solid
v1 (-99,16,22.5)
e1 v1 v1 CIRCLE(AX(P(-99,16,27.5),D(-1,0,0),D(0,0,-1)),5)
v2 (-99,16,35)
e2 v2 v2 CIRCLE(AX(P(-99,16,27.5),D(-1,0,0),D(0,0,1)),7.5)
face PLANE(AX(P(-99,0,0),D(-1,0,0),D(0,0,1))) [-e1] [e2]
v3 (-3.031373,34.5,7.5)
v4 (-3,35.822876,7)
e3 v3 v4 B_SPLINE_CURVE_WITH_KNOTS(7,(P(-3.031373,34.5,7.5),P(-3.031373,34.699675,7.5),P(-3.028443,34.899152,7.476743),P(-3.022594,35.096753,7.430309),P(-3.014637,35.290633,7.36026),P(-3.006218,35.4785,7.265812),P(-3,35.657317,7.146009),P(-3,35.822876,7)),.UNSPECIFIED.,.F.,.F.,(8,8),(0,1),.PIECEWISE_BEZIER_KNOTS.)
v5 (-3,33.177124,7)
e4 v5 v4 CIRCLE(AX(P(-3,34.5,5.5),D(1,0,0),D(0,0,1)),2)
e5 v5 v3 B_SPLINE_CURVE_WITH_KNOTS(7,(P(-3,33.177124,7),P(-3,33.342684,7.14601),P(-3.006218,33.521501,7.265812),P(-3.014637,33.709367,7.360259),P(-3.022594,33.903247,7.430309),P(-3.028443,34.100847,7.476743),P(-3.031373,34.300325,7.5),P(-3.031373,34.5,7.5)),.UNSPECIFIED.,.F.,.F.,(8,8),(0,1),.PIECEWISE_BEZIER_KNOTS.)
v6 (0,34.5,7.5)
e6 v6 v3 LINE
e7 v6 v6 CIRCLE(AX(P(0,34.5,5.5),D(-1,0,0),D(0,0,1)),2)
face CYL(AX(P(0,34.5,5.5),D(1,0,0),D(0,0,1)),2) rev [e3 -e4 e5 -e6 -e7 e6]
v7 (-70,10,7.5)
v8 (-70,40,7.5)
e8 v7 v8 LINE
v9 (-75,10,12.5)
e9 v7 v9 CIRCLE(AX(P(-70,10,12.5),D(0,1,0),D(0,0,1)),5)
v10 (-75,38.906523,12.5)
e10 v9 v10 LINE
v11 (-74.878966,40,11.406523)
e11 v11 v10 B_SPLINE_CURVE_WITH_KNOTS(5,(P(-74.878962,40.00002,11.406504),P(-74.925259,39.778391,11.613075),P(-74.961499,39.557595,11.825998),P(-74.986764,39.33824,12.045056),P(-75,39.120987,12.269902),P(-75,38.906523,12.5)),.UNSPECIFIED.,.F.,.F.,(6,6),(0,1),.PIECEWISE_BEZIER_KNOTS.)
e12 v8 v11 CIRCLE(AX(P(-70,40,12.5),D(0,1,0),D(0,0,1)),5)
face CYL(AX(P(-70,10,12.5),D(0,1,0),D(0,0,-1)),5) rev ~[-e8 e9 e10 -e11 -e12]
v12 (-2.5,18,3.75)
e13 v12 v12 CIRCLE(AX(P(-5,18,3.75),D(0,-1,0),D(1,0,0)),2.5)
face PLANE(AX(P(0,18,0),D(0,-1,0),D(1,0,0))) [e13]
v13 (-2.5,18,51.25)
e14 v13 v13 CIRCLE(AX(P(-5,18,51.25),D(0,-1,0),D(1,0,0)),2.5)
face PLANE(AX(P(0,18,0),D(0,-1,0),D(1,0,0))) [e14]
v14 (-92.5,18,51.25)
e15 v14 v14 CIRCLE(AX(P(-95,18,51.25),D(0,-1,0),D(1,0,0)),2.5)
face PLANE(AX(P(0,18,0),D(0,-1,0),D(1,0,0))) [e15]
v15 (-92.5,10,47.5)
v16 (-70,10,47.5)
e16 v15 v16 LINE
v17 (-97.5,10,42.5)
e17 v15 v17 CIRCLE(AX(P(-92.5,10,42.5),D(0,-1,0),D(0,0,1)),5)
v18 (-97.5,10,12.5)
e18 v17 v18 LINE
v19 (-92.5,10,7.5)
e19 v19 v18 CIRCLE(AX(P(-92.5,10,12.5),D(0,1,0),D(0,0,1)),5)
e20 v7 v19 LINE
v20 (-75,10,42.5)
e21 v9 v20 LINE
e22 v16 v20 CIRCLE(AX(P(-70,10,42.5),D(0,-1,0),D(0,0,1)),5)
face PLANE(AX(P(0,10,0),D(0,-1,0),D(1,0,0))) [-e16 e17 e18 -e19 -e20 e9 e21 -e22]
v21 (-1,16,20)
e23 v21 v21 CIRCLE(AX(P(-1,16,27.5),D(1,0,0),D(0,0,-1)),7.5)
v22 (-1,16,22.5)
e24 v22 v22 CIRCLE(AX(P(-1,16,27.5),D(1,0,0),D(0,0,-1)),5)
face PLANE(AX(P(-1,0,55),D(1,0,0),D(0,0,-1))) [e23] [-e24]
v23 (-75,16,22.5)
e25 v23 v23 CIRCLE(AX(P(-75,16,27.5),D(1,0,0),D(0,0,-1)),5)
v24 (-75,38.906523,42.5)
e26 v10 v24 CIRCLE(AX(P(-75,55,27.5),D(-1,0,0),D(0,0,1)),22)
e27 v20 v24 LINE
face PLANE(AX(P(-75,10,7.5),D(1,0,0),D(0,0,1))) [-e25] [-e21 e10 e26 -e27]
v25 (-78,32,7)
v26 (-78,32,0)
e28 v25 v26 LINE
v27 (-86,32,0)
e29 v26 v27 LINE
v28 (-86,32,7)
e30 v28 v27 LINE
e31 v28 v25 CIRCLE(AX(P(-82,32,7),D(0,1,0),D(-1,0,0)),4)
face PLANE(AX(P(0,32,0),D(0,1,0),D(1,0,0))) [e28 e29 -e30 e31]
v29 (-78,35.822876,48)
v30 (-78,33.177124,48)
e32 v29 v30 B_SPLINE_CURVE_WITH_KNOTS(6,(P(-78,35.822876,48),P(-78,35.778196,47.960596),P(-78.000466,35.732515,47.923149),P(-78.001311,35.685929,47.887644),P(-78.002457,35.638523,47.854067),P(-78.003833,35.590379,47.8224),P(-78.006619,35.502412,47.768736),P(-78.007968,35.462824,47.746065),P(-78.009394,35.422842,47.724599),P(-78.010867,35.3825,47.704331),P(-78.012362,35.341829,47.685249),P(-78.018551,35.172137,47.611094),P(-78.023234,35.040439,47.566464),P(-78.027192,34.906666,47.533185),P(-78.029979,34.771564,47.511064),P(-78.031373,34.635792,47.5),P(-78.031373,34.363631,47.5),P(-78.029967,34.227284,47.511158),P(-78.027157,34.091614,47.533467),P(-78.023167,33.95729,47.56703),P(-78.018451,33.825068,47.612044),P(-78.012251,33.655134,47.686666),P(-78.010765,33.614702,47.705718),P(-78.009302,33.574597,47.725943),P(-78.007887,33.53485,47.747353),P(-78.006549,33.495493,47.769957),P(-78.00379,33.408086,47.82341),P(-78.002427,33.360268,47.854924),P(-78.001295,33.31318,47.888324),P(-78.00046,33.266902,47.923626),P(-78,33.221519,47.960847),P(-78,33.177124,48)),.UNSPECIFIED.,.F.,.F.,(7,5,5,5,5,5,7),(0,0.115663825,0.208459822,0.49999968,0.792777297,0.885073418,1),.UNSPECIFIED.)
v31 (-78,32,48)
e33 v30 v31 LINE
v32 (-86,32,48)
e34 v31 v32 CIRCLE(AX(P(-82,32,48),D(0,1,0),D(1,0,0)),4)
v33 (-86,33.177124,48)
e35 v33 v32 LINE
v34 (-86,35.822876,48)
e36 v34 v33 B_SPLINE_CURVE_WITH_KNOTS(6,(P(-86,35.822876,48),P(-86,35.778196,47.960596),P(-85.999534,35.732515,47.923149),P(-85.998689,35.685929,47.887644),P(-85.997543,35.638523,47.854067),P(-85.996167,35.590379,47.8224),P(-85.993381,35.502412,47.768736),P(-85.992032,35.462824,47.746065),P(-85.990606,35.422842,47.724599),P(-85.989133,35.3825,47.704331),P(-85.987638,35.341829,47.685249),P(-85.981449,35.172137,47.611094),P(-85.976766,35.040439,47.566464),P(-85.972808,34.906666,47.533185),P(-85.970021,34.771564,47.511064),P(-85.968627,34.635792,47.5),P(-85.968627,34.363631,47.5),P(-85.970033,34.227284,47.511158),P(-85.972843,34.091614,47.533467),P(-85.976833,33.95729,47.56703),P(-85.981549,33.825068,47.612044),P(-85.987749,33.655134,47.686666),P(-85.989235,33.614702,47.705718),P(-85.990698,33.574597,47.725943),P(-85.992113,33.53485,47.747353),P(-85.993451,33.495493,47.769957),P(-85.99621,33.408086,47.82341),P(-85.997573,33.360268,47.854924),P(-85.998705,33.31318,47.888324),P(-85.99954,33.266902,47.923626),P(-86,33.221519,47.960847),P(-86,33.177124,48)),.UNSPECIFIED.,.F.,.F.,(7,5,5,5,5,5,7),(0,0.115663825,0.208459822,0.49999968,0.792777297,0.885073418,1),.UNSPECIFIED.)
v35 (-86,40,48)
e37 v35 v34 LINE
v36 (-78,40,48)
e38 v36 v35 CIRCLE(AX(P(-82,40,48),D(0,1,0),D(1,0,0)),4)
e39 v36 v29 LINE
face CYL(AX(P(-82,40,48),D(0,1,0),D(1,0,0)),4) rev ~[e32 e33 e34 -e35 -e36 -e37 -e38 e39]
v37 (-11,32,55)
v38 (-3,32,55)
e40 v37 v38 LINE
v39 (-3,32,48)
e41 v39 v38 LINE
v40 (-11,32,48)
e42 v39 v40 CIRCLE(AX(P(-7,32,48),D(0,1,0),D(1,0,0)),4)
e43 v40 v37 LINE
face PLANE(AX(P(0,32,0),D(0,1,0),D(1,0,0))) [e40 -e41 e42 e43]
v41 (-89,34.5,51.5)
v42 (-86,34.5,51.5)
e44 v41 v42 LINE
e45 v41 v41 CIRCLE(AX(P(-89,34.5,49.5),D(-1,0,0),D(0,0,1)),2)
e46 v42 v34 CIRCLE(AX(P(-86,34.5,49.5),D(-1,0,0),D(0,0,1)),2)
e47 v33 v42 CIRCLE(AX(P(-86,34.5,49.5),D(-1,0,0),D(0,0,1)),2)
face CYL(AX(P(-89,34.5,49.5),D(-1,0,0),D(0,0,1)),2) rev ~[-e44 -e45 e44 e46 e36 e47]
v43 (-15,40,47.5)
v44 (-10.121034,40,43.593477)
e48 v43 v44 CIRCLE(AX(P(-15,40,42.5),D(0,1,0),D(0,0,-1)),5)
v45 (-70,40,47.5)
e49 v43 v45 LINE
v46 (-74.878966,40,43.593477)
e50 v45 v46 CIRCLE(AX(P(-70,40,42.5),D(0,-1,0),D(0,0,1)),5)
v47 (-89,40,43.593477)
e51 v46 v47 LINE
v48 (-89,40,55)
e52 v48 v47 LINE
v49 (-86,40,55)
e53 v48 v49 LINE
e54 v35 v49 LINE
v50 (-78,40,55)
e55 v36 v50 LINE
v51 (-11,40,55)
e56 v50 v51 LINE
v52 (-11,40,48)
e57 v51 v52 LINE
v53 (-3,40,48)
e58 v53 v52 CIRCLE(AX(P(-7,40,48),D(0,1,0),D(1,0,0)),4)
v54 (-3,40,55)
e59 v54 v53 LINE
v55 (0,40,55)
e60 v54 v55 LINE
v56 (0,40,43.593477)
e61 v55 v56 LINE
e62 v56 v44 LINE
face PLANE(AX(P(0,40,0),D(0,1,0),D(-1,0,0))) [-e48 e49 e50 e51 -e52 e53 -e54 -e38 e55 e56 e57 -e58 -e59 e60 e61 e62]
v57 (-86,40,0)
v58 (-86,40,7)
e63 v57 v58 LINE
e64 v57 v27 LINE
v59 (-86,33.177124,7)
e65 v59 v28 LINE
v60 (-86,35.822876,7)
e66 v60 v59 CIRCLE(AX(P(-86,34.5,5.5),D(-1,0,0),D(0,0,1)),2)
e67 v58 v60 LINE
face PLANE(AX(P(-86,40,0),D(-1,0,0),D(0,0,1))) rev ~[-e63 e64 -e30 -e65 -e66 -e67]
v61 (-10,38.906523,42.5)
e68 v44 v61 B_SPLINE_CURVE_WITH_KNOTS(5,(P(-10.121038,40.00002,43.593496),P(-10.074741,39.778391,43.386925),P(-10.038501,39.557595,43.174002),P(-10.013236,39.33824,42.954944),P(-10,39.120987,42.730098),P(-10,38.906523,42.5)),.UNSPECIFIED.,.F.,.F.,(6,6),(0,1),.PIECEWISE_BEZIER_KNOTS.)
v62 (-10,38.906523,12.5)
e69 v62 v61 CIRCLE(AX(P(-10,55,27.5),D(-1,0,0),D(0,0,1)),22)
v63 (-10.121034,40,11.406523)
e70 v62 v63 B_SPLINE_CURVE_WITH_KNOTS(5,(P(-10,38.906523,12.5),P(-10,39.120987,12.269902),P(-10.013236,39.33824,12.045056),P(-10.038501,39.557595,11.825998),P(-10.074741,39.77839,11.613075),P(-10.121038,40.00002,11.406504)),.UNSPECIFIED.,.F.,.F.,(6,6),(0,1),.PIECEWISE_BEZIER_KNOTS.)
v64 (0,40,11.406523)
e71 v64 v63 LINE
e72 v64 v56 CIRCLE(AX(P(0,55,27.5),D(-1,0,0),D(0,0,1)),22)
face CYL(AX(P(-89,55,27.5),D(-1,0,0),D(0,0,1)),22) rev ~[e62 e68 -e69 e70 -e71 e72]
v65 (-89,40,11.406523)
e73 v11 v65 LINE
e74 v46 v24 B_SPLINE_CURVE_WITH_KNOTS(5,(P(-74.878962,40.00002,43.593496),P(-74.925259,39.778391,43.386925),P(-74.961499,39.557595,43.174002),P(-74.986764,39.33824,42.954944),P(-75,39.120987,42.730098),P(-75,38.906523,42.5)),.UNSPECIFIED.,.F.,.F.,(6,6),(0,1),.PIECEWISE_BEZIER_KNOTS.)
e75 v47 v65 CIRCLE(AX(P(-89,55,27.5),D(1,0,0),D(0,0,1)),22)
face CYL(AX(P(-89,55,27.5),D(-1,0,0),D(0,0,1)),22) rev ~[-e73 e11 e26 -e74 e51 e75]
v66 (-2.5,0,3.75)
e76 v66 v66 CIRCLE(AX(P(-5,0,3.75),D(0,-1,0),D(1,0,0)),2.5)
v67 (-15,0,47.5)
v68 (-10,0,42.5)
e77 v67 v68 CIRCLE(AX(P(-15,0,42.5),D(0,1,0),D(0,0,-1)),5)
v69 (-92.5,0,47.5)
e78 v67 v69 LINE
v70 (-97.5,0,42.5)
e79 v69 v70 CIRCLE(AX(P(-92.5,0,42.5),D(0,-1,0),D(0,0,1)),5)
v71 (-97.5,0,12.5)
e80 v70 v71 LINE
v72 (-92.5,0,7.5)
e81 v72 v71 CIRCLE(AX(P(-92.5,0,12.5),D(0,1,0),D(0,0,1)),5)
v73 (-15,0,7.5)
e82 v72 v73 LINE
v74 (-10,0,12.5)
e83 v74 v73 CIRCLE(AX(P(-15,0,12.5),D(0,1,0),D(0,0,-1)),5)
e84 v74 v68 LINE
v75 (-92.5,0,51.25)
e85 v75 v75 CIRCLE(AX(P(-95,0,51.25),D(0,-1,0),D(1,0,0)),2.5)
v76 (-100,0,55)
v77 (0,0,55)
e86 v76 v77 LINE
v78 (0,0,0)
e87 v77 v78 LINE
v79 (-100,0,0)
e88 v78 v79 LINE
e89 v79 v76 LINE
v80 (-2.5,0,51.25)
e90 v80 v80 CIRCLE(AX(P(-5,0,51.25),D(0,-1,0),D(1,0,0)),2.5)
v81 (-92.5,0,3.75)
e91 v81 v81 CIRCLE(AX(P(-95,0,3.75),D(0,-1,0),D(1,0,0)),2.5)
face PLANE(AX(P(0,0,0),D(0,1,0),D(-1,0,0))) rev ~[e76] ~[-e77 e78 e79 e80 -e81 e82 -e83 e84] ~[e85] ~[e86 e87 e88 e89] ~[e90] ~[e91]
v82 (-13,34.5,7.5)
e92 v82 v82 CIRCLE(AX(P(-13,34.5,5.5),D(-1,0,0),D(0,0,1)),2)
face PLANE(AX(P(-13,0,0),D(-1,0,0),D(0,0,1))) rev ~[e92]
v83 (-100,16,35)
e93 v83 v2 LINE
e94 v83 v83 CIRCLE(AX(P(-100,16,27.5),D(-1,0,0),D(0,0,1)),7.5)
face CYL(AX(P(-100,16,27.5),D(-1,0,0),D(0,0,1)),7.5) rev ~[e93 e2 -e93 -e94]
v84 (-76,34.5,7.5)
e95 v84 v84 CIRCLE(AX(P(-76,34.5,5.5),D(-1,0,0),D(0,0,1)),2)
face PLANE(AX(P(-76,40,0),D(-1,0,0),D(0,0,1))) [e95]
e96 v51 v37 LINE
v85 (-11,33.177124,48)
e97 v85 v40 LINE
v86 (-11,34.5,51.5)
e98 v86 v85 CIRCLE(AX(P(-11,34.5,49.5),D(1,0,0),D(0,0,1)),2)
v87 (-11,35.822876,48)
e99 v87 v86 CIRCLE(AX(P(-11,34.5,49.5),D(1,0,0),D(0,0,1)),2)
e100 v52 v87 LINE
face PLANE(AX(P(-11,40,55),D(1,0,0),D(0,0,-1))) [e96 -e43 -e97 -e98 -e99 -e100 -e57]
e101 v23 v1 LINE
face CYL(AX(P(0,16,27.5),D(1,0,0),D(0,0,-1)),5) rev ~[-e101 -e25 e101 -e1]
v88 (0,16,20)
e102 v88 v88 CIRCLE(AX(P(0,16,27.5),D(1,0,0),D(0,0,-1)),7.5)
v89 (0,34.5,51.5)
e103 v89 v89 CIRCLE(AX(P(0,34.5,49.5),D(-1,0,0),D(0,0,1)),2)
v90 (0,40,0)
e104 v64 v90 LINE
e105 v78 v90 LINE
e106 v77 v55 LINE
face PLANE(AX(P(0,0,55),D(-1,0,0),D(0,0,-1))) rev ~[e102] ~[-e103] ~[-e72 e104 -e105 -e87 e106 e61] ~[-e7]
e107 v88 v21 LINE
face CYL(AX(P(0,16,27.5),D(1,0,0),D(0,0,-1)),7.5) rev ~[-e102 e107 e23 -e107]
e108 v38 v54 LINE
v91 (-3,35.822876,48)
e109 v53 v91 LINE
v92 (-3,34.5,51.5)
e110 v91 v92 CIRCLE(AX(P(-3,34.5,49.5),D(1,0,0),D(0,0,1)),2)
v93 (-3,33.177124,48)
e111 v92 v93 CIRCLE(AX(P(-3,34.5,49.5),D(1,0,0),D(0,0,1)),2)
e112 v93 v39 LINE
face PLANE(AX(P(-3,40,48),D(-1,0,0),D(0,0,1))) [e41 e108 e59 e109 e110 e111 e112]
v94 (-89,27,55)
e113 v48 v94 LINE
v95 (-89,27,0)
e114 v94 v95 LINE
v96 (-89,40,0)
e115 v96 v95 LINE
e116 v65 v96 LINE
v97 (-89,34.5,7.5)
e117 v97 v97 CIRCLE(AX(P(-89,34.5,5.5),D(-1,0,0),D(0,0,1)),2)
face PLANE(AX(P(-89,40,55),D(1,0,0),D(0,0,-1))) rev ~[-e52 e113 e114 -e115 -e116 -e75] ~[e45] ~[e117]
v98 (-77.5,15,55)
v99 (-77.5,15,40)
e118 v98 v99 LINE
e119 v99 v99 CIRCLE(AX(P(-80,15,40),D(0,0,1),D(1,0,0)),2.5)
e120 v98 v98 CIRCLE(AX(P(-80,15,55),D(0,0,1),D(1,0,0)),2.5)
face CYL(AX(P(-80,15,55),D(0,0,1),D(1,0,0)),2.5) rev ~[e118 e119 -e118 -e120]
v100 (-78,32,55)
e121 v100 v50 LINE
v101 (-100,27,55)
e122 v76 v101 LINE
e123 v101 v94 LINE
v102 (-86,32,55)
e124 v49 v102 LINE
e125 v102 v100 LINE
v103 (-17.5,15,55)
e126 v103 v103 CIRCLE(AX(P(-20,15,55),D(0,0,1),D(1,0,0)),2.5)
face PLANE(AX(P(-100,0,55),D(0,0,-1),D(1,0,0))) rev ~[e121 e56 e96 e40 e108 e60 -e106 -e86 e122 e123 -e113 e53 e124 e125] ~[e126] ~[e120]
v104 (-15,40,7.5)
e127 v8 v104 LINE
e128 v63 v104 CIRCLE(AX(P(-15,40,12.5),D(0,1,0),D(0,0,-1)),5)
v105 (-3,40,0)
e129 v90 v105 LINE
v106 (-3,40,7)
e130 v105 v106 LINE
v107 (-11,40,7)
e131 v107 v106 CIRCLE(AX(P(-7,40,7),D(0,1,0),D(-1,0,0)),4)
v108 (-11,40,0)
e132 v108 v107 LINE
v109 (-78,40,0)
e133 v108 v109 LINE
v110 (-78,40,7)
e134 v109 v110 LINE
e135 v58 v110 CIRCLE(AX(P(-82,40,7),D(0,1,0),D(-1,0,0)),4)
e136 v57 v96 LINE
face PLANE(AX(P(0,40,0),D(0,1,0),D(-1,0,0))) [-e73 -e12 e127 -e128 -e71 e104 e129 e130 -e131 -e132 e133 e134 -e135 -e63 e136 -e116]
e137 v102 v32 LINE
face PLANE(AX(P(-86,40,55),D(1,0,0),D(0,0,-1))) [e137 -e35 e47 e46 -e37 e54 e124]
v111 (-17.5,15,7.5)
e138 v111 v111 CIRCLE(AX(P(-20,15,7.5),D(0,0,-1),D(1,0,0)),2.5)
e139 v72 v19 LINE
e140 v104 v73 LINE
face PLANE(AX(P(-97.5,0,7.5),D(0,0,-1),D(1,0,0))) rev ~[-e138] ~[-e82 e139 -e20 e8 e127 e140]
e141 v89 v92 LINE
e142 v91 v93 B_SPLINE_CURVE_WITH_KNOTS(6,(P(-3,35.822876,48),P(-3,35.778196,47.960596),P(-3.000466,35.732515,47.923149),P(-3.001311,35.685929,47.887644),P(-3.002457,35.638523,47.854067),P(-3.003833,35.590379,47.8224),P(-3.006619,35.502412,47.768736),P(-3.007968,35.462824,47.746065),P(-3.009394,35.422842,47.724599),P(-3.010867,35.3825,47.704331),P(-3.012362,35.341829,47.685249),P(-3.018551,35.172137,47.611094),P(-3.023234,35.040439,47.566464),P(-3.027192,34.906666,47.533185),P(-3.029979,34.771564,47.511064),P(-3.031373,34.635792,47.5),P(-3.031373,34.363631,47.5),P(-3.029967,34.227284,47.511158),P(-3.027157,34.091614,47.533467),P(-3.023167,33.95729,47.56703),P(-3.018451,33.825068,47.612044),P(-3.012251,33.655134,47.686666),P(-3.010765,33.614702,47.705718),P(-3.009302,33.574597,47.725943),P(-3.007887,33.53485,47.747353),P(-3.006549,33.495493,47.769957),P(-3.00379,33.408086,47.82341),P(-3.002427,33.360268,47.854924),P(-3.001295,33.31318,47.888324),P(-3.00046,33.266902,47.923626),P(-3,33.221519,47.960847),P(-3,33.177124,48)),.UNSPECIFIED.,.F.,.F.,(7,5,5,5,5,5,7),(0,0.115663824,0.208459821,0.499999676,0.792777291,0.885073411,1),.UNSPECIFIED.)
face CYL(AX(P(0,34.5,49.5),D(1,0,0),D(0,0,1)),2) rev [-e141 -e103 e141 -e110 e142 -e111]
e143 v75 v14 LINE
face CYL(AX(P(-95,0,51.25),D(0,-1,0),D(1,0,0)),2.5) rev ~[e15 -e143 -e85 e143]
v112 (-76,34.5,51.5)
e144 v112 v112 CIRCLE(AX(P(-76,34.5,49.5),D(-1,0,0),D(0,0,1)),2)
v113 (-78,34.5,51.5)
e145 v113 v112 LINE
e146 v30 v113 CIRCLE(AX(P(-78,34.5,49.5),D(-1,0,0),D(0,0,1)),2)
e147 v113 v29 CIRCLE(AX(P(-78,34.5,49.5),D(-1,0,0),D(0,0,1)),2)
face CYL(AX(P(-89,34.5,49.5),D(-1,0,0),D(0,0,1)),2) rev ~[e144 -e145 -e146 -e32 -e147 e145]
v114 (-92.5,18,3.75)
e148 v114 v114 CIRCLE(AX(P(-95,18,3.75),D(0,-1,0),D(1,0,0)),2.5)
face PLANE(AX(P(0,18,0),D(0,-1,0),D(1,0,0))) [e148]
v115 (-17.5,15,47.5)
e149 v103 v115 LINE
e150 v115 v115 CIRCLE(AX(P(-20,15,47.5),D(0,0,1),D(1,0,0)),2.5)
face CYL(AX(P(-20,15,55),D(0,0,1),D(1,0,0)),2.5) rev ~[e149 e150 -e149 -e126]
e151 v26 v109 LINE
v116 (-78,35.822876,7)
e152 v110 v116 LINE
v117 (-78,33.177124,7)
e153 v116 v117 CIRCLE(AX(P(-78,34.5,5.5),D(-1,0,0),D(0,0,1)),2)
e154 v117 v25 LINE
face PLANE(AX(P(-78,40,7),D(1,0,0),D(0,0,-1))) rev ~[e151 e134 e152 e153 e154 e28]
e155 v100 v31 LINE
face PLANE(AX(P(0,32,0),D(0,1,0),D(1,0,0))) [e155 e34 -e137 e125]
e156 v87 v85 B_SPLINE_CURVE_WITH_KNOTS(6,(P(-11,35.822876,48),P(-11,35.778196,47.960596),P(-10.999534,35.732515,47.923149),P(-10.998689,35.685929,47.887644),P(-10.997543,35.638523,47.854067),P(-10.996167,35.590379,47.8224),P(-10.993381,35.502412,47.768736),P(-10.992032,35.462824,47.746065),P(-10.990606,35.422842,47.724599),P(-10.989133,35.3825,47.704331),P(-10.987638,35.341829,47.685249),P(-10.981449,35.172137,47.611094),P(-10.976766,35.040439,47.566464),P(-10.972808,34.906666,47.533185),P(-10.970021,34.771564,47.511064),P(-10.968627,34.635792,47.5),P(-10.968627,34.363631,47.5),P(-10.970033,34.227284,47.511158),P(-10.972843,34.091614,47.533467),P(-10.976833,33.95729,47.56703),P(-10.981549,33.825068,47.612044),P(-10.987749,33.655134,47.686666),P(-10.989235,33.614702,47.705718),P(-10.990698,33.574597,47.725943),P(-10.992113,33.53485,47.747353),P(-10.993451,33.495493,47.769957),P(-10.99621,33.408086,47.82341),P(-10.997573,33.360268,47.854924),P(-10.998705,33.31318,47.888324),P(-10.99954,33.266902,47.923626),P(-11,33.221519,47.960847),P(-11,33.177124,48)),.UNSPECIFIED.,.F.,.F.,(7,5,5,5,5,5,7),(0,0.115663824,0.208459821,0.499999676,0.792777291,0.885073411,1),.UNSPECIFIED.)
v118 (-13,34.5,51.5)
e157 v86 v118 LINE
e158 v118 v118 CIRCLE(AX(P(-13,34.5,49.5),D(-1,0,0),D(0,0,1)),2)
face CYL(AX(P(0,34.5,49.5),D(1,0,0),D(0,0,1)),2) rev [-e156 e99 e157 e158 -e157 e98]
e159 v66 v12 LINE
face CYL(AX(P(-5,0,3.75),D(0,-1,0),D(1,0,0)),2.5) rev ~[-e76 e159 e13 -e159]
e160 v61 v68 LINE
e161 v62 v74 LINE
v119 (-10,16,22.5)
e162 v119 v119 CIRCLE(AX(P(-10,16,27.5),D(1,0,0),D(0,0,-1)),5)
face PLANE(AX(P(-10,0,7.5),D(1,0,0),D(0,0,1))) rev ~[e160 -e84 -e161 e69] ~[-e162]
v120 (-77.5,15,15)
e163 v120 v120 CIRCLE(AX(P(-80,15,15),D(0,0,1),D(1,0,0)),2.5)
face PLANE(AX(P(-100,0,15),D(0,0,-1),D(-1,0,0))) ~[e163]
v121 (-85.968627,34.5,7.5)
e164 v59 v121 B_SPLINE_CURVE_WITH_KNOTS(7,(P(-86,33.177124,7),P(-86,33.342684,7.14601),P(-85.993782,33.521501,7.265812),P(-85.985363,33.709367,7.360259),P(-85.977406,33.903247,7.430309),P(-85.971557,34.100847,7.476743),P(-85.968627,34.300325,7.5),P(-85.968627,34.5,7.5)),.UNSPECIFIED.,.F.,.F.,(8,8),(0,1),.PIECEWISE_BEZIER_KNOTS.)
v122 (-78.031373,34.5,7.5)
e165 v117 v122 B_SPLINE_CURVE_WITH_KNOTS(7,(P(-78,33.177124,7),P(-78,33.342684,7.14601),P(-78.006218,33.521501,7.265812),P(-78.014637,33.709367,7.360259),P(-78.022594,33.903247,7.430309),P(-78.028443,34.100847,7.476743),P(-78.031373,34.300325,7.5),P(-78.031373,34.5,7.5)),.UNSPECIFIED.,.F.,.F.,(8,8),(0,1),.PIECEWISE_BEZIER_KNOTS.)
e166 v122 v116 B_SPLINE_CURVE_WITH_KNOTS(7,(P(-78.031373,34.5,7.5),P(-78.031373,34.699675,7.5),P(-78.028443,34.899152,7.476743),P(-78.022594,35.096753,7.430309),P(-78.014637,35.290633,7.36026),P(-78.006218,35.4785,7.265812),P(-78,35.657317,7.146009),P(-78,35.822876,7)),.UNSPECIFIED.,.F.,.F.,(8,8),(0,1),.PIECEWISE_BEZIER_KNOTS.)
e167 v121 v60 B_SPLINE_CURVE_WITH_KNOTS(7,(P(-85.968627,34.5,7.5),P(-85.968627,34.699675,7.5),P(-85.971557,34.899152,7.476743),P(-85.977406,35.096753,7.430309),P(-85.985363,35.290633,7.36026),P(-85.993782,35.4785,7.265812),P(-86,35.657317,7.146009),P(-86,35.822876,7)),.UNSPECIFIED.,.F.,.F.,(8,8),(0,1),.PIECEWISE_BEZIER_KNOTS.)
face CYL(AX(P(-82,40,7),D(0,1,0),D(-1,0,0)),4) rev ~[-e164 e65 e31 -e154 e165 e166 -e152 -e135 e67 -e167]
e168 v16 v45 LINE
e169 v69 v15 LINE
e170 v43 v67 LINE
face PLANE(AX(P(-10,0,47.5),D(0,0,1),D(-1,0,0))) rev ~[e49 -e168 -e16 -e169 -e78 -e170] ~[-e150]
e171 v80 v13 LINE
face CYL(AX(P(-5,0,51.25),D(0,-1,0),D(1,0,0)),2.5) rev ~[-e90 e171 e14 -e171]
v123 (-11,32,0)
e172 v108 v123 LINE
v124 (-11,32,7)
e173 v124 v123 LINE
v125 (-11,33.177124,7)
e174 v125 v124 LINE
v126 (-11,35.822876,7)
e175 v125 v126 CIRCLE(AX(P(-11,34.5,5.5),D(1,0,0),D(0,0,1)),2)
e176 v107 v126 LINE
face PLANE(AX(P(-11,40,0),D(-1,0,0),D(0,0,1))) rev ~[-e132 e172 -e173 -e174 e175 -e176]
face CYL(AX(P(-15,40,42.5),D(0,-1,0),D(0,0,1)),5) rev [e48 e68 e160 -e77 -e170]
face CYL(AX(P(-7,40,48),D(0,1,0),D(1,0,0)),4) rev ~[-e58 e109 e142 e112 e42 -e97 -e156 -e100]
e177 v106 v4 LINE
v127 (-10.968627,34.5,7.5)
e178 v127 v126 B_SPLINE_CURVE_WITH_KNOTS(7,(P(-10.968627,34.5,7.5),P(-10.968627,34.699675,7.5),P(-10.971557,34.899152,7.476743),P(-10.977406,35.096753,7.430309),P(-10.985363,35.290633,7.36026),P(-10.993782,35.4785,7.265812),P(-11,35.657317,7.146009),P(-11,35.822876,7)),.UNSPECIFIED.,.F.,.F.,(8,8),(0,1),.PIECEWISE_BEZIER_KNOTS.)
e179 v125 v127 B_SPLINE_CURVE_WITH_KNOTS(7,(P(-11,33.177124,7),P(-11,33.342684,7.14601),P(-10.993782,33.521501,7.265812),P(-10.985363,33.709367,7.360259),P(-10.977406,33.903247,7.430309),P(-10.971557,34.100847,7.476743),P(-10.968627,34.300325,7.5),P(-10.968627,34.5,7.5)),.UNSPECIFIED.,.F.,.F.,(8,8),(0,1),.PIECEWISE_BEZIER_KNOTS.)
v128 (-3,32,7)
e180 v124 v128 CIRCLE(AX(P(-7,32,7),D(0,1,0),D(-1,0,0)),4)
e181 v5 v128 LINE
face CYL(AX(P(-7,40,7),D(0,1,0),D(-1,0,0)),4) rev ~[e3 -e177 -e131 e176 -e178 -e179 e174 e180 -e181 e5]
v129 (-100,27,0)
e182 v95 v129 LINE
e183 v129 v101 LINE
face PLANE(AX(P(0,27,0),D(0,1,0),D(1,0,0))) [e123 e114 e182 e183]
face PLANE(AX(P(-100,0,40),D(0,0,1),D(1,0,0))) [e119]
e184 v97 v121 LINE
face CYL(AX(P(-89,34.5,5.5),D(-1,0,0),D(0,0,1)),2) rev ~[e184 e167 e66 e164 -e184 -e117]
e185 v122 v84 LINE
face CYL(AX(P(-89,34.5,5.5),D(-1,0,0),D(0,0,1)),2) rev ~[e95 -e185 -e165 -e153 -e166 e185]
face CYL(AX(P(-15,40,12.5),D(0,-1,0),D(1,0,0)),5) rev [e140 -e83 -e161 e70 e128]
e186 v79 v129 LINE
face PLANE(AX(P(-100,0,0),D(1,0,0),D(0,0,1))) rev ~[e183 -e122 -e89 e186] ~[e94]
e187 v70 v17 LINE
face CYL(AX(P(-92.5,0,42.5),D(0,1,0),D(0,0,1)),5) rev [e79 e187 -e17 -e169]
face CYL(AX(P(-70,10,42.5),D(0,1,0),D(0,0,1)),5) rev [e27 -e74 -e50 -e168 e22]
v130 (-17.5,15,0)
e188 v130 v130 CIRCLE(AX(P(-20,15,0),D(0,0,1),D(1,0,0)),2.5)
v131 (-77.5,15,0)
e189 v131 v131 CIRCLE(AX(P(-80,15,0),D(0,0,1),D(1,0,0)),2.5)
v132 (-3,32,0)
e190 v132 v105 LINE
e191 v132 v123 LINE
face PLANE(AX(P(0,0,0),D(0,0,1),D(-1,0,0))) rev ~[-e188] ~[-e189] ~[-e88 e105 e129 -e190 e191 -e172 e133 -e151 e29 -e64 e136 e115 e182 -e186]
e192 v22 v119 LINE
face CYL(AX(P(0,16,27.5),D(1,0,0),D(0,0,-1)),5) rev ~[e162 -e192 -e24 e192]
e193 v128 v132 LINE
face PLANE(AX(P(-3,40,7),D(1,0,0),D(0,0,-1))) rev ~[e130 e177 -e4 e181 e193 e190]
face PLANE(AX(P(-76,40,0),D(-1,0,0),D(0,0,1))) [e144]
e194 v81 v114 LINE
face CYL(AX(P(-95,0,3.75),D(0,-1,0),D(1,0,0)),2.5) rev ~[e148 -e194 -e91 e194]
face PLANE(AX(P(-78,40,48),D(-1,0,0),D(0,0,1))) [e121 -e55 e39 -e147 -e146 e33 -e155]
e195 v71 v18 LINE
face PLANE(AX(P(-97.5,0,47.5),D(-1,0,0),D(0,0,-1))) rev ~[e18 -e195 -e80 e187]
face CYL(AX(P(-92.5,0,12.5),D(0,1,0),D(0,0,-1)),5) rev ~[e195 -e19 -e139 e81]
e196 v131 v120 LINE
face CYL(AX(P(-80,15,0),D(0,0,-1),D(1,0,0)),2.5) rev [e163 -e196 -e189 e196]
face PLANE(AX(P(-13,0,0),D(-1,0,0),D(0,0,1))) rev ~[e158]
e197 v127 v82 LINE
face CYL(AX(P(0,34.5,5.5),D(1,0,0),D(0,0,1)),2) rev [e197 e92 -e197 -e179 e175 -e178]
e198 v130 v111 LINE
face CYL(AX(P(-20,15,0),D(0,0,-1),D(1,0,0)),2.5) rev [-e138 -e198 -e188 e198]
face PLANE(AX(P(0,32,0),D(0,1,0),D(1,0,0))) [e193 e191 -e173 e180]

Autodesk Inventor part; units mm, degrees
ref_plane "YZ Plane" through (0, 0, 0) normal (1, 0, 0) x (0, 1, 0)
ref_plane "XZ Plane" through (0, 0, 0) normal (0, 1, 0) x (-1, 0, 0)
sketch "Sketch1" plane through (0, 0, 0) normal (0, 1, 0) x (-1, 0, 0)
  line L0 (0, 0) -> (100, 0)
  line L1 (100, 0) -> (100, 55)
  line L2 (100, 55) -> (0, 55)
  line L3 (0, 55) -> (0, 0)
  dimension "d0" = 55
  dimension "d1" = 100
extrude "Extrusion1" add sketch "Sketch1" along normal blind 40
sketch "Sketch2" plane through (0, 0, 0) normal (0, -1, 0) x (1, 0, 0)
  circle A0 centre (-5, 3.75) radius 2.5
  line L0 (0, 55) -> (0, 0) projected
  line L1 (0, 0) -> (-100, 0) projected
  line L2 (0, 0) -> (-100, 0) projected
  line L3 (-50, 0) -> (-50, 13.5836)
  line L4 (0, 55) -> (0, 0) projected
  line L5 (0, 27.5) -> (-21.4459, 27.5)
  circle A1 centre (-5, 51.25) radius 2.5
  circle A2 centre (-95, 3.75) radius 2.5
  circle A3 centre (-95, 51.25) radius 2.5
  dimension "d4" = 5
  dimension "d5" = 5
  dimension "d6" = 3.75
extrude "Extrusion2" cut sketch "Sketch2" against normal blind 18
sketch "Sketch3" plane through (0, 0, 0) normal (0, -1, 0) x (1, 0, 0)
  line L0 (-97.5, 7.5) -> (-10, 7.5)
  line L1 (-10, 7.5) -> (-10, 47.5)
  line L2 (-10, 47.5) -> (-97.5, 47.5)
  line L3 (-97.5, 47.5) -> (-97.5, 7.5)
  line L4 (-100, 0) -> (-100, 55) projected
  line L5 (-100, 55) -> (0, 55) projected
  point P0 (0, 0)
  dimension "d9" = 2.5
  dimension "d10" = 87.5
  dimension "d11" = 40
  dimension "d12" = 55
  dimension "d13" = 7.5
extrude "Extrusion3" cut sketch "Sketch3" against normal blind 10
sketch "Sketch4" plane through (0, 10, 0) normal (0, -1, 0) x (1, 0, 0)
  line L0 (-10, 47.5) -> (-10, 7.5) projected
  line L1 (-97.5, 47.5) -> (-10, 47.5) projected
  line L2 (-10, 7.5) -> (-75, 7.5)
  line L3 (-75, 7.5) -> (-75, 47.5)
  line L4 (-75, 47.5) -> (-10, 47.5)
  line L5 (-10, 47.5) -> (-10, 7.5)
  point P0 (0, 0)
  dimension "d16" = 65
extrude "Extrusion4" cut sketch "Sketch4" against normal through all
sketch "Sketch5" plane through (0, 0, 55) normal (1, 0, 0) x (0, 0, -1)
  circle A0 centre (27.5, 16) radius 5
  line L0 (55, 0) -> (55, 40) projected
  line L1 (0, 0) -> (0, 40) projected
  line L2 (0, 0) -> (55, 0) projected
  dimension "d19" = 27.5
  dimension "d20" = 55
  dimension "d21" = 10
  dimension "d22" = 16
extrude "Extrusion5" cut sketch "Sketch5" against normal through all
sketch "Sketch6" plane through (0, 0, 55) normal (1, 0, 0) x (0, 0, -1)
  circle A0 centre (27.5, 16) radius 5 projected
  circle A1 centre (27.5, 16) radius 7.5
  point P0 (55, 0)
  dimension "d25" = 15
extrude "Extrusion6" cut sketch "Sketch6" against normal blind 1
sketch "Sketch7" plane through (-100, 0, 0) normal (-1, 0, 0) x (0, 0, 1)
  circle A0 centre (27.5, 16) radius 5 projected
  circle A1 centre (27.5, 16) radius 7.5
  point P0 (0, 0)
  dimension "d28" = 15
extrude "Extrusion7" cut sketch "Sketch7" against normal blind 1
sketch "Sketch8" plane through (-100, 0, 55) normal (0, 0, 1) x (1, 0, 0)
  circle A0 centre (80, 15) radius 2.5
  line L0 (100, 0) -> (100, 40) projected
  line L1 (0, 0) -> (100, 0) projected
  circle A1 centre (20, 15) radius 2.5
  line L2 (0, 0) -> (0, 40) projected
  dimension "d31" = 5
  dimension "d32" = 20
  dimension "d33" = 15
  dimension "d34" = 5
  dimension "d35" = 20
  dimension "d36" = 15
extrude "Extrusion8" cut sketch "Sketch8" against normal blind 15
ref_plane "Work Plane1" through (-100, 0, 27.5) normal (0, 0, 1) x (1, 0, 0)
mirror "Mirror1" about plane through (-100, 0, 27.5) normal (0, 0, 1) of "Extrusion8"
fillet "Fillet1" radius 5 6 edges at (-97.5, 5, 7.5) (-97.5, 5, 47.5) (-10, 20, 7.5) (-10, 20, 47.5) (-75, 25, 7.5) (-75, 25, 47.5)
sketch "Sketch10" plane through (0, 40, 0) normal (0, 1, 0) x (1, 0, 0)
  arc A0 (-78, -48) -> (-86, -48) centre (-82, -48) ccw
  line L0 (-78, -48) -> (-78, -67.7659)
  line L1 (-78, -67.7659) -> (-86, -67.7659)
  line L2 (-86, -67.7659) -> (-86, -48)
  line L3 (-100, -55) -> (0, -55) projected
  line L4 (-100, 0) -> (-100, -55) projected
  arc A1 (-3, -48) -> (-11, -48) centre (-7, -48) ccw
  line L5 (-3, -48) -> (-3, -67.2517)
  line L6 (-3, -67.2517) -> (-11, -67.2517)
  line L7 (-11, -67.2517) -> (-11, -48)
  line L8 (0, -55) -> (0, 0) projected
  line L9 (-100, 0) -> (-100, -55) projected
  line L10 (-100, -27.5) -> (-88.5894, -27.5)
  arc A2 (-86, -7) -> (-78, -7) centre (-82, -7) ccw
  line L11 (-78, -7) -> (-78, 12.7659)
  line L12 (-78, 12.7659) -> (-86, 12.7659)
  line L13 (-86, 12.7659) -> (-86, -7)
  line L14 (-100, 0) -> (0, 0)
  arc A3 (-11, -7) -> (-3, -7) centre (-7, -7) ccw
  line L15 (-3, -7) -> (-3, 12.2517)
  line L16 (-3, 12.2517) -> (-11, 12.2517)
  line L17 (-11, 12.2517) -> (-11, -7)
  dimension "d40" = 8
  dimension "d41" = 7
  dimension "d43" = 8
  dimension "d44" = 7
  dimension "d45" = 7
  dimension "d48" = 82
extrude "Extrusion9" cut sketch "Sketch10" against normal blind 8 contours L0 L3 L2 A0 | L0 L1 L2 L3 | L7 A1 L5 L3 | L3 L5 L6 L7 | L14 L11 A2 L13 | L13 L12 L11 L14 | L15 A3 L17 L14 | L14 L17 L16 L15
sketch "Sketch11" plane through (0, 0, 0) normal (-1, 0, 0) x (0, 0, 1)
  circle A0 centre (5.5, 34.5) radius 2
  line L0 (0, 40) -> (55, 40) projected
  line L1 (0, 0) -> (0, 40) projected
  line L2 (55, 40) -> (0, 40) projected
  line L3 (27.5, 40) -> (27.5, 46.5712)
  circle A1 centre (49.5, 34.5) radius 2
  dimension "d49" = 4
  dimension "d50" = 5.5
  dimension "d51" = 5.5
extrude "Extrusion10" cut sketch "Sketch11" along normal blind 13
sketch "Sketch12" plane through (0, 40, 0) normal (0, 1, 0) x (1, 0, 0)
  line L0 (-100, -55) -> (0, -55) projected
  line L1 (0, 0) -> (-100, 0) projected
  line L2 (-100, -55) -> (-89, -55)
  line L3 (-89, -55) -> (-89, 0)
  line L4 (-89, 0) -> (-100, 0)
  line L5 (-100, 0) -> (-100, -55)
  line L6 (-86, -55) -> (-86, -48) projected
  dimension "d54" = 3
extrude "Extrusion11" cut sketch "Sketch12" against normal blind 13
sketch "Sketch13" plane through (-89, 40, 0) normal (-1, 0, 0) x (0, 0, 1)
  circle A0 centre (5.5, -5.5) radius 2 projected
  circle A1 centre (49.5, -5.5) radius 2 projected
  point P0 (0, -40)
extrude "Extrusion12" cut sketch "Sketch13" against normal blind 13
sketch "Sketch15" plane through (-89, 40, 0) normal (-1, 0, 0) x (0, 0, 1)
  circle A0 centre (27.5, 15) radius 22
  line L0 (0, -13) -> (0, 0) projected
  line L1 (0, 0) -> (55, 0) projected
  point P0 (0, -40)
  dimension "d59" = 27.5
  dimension "d60" = 15
  dimension "d61" = 44
extrude "Extrusion13" cut sketch "Sketch15" against normal through all
equation "\"d13\" = -0.5 * d11 + 0.5 * d12"
equation "\"d19\" = 0.5 * d20"
equation "\"d36\" = d33"
equation "\"d51\" = d50"
properties part number "CarterRouleau" material "Aluminum 6061"
